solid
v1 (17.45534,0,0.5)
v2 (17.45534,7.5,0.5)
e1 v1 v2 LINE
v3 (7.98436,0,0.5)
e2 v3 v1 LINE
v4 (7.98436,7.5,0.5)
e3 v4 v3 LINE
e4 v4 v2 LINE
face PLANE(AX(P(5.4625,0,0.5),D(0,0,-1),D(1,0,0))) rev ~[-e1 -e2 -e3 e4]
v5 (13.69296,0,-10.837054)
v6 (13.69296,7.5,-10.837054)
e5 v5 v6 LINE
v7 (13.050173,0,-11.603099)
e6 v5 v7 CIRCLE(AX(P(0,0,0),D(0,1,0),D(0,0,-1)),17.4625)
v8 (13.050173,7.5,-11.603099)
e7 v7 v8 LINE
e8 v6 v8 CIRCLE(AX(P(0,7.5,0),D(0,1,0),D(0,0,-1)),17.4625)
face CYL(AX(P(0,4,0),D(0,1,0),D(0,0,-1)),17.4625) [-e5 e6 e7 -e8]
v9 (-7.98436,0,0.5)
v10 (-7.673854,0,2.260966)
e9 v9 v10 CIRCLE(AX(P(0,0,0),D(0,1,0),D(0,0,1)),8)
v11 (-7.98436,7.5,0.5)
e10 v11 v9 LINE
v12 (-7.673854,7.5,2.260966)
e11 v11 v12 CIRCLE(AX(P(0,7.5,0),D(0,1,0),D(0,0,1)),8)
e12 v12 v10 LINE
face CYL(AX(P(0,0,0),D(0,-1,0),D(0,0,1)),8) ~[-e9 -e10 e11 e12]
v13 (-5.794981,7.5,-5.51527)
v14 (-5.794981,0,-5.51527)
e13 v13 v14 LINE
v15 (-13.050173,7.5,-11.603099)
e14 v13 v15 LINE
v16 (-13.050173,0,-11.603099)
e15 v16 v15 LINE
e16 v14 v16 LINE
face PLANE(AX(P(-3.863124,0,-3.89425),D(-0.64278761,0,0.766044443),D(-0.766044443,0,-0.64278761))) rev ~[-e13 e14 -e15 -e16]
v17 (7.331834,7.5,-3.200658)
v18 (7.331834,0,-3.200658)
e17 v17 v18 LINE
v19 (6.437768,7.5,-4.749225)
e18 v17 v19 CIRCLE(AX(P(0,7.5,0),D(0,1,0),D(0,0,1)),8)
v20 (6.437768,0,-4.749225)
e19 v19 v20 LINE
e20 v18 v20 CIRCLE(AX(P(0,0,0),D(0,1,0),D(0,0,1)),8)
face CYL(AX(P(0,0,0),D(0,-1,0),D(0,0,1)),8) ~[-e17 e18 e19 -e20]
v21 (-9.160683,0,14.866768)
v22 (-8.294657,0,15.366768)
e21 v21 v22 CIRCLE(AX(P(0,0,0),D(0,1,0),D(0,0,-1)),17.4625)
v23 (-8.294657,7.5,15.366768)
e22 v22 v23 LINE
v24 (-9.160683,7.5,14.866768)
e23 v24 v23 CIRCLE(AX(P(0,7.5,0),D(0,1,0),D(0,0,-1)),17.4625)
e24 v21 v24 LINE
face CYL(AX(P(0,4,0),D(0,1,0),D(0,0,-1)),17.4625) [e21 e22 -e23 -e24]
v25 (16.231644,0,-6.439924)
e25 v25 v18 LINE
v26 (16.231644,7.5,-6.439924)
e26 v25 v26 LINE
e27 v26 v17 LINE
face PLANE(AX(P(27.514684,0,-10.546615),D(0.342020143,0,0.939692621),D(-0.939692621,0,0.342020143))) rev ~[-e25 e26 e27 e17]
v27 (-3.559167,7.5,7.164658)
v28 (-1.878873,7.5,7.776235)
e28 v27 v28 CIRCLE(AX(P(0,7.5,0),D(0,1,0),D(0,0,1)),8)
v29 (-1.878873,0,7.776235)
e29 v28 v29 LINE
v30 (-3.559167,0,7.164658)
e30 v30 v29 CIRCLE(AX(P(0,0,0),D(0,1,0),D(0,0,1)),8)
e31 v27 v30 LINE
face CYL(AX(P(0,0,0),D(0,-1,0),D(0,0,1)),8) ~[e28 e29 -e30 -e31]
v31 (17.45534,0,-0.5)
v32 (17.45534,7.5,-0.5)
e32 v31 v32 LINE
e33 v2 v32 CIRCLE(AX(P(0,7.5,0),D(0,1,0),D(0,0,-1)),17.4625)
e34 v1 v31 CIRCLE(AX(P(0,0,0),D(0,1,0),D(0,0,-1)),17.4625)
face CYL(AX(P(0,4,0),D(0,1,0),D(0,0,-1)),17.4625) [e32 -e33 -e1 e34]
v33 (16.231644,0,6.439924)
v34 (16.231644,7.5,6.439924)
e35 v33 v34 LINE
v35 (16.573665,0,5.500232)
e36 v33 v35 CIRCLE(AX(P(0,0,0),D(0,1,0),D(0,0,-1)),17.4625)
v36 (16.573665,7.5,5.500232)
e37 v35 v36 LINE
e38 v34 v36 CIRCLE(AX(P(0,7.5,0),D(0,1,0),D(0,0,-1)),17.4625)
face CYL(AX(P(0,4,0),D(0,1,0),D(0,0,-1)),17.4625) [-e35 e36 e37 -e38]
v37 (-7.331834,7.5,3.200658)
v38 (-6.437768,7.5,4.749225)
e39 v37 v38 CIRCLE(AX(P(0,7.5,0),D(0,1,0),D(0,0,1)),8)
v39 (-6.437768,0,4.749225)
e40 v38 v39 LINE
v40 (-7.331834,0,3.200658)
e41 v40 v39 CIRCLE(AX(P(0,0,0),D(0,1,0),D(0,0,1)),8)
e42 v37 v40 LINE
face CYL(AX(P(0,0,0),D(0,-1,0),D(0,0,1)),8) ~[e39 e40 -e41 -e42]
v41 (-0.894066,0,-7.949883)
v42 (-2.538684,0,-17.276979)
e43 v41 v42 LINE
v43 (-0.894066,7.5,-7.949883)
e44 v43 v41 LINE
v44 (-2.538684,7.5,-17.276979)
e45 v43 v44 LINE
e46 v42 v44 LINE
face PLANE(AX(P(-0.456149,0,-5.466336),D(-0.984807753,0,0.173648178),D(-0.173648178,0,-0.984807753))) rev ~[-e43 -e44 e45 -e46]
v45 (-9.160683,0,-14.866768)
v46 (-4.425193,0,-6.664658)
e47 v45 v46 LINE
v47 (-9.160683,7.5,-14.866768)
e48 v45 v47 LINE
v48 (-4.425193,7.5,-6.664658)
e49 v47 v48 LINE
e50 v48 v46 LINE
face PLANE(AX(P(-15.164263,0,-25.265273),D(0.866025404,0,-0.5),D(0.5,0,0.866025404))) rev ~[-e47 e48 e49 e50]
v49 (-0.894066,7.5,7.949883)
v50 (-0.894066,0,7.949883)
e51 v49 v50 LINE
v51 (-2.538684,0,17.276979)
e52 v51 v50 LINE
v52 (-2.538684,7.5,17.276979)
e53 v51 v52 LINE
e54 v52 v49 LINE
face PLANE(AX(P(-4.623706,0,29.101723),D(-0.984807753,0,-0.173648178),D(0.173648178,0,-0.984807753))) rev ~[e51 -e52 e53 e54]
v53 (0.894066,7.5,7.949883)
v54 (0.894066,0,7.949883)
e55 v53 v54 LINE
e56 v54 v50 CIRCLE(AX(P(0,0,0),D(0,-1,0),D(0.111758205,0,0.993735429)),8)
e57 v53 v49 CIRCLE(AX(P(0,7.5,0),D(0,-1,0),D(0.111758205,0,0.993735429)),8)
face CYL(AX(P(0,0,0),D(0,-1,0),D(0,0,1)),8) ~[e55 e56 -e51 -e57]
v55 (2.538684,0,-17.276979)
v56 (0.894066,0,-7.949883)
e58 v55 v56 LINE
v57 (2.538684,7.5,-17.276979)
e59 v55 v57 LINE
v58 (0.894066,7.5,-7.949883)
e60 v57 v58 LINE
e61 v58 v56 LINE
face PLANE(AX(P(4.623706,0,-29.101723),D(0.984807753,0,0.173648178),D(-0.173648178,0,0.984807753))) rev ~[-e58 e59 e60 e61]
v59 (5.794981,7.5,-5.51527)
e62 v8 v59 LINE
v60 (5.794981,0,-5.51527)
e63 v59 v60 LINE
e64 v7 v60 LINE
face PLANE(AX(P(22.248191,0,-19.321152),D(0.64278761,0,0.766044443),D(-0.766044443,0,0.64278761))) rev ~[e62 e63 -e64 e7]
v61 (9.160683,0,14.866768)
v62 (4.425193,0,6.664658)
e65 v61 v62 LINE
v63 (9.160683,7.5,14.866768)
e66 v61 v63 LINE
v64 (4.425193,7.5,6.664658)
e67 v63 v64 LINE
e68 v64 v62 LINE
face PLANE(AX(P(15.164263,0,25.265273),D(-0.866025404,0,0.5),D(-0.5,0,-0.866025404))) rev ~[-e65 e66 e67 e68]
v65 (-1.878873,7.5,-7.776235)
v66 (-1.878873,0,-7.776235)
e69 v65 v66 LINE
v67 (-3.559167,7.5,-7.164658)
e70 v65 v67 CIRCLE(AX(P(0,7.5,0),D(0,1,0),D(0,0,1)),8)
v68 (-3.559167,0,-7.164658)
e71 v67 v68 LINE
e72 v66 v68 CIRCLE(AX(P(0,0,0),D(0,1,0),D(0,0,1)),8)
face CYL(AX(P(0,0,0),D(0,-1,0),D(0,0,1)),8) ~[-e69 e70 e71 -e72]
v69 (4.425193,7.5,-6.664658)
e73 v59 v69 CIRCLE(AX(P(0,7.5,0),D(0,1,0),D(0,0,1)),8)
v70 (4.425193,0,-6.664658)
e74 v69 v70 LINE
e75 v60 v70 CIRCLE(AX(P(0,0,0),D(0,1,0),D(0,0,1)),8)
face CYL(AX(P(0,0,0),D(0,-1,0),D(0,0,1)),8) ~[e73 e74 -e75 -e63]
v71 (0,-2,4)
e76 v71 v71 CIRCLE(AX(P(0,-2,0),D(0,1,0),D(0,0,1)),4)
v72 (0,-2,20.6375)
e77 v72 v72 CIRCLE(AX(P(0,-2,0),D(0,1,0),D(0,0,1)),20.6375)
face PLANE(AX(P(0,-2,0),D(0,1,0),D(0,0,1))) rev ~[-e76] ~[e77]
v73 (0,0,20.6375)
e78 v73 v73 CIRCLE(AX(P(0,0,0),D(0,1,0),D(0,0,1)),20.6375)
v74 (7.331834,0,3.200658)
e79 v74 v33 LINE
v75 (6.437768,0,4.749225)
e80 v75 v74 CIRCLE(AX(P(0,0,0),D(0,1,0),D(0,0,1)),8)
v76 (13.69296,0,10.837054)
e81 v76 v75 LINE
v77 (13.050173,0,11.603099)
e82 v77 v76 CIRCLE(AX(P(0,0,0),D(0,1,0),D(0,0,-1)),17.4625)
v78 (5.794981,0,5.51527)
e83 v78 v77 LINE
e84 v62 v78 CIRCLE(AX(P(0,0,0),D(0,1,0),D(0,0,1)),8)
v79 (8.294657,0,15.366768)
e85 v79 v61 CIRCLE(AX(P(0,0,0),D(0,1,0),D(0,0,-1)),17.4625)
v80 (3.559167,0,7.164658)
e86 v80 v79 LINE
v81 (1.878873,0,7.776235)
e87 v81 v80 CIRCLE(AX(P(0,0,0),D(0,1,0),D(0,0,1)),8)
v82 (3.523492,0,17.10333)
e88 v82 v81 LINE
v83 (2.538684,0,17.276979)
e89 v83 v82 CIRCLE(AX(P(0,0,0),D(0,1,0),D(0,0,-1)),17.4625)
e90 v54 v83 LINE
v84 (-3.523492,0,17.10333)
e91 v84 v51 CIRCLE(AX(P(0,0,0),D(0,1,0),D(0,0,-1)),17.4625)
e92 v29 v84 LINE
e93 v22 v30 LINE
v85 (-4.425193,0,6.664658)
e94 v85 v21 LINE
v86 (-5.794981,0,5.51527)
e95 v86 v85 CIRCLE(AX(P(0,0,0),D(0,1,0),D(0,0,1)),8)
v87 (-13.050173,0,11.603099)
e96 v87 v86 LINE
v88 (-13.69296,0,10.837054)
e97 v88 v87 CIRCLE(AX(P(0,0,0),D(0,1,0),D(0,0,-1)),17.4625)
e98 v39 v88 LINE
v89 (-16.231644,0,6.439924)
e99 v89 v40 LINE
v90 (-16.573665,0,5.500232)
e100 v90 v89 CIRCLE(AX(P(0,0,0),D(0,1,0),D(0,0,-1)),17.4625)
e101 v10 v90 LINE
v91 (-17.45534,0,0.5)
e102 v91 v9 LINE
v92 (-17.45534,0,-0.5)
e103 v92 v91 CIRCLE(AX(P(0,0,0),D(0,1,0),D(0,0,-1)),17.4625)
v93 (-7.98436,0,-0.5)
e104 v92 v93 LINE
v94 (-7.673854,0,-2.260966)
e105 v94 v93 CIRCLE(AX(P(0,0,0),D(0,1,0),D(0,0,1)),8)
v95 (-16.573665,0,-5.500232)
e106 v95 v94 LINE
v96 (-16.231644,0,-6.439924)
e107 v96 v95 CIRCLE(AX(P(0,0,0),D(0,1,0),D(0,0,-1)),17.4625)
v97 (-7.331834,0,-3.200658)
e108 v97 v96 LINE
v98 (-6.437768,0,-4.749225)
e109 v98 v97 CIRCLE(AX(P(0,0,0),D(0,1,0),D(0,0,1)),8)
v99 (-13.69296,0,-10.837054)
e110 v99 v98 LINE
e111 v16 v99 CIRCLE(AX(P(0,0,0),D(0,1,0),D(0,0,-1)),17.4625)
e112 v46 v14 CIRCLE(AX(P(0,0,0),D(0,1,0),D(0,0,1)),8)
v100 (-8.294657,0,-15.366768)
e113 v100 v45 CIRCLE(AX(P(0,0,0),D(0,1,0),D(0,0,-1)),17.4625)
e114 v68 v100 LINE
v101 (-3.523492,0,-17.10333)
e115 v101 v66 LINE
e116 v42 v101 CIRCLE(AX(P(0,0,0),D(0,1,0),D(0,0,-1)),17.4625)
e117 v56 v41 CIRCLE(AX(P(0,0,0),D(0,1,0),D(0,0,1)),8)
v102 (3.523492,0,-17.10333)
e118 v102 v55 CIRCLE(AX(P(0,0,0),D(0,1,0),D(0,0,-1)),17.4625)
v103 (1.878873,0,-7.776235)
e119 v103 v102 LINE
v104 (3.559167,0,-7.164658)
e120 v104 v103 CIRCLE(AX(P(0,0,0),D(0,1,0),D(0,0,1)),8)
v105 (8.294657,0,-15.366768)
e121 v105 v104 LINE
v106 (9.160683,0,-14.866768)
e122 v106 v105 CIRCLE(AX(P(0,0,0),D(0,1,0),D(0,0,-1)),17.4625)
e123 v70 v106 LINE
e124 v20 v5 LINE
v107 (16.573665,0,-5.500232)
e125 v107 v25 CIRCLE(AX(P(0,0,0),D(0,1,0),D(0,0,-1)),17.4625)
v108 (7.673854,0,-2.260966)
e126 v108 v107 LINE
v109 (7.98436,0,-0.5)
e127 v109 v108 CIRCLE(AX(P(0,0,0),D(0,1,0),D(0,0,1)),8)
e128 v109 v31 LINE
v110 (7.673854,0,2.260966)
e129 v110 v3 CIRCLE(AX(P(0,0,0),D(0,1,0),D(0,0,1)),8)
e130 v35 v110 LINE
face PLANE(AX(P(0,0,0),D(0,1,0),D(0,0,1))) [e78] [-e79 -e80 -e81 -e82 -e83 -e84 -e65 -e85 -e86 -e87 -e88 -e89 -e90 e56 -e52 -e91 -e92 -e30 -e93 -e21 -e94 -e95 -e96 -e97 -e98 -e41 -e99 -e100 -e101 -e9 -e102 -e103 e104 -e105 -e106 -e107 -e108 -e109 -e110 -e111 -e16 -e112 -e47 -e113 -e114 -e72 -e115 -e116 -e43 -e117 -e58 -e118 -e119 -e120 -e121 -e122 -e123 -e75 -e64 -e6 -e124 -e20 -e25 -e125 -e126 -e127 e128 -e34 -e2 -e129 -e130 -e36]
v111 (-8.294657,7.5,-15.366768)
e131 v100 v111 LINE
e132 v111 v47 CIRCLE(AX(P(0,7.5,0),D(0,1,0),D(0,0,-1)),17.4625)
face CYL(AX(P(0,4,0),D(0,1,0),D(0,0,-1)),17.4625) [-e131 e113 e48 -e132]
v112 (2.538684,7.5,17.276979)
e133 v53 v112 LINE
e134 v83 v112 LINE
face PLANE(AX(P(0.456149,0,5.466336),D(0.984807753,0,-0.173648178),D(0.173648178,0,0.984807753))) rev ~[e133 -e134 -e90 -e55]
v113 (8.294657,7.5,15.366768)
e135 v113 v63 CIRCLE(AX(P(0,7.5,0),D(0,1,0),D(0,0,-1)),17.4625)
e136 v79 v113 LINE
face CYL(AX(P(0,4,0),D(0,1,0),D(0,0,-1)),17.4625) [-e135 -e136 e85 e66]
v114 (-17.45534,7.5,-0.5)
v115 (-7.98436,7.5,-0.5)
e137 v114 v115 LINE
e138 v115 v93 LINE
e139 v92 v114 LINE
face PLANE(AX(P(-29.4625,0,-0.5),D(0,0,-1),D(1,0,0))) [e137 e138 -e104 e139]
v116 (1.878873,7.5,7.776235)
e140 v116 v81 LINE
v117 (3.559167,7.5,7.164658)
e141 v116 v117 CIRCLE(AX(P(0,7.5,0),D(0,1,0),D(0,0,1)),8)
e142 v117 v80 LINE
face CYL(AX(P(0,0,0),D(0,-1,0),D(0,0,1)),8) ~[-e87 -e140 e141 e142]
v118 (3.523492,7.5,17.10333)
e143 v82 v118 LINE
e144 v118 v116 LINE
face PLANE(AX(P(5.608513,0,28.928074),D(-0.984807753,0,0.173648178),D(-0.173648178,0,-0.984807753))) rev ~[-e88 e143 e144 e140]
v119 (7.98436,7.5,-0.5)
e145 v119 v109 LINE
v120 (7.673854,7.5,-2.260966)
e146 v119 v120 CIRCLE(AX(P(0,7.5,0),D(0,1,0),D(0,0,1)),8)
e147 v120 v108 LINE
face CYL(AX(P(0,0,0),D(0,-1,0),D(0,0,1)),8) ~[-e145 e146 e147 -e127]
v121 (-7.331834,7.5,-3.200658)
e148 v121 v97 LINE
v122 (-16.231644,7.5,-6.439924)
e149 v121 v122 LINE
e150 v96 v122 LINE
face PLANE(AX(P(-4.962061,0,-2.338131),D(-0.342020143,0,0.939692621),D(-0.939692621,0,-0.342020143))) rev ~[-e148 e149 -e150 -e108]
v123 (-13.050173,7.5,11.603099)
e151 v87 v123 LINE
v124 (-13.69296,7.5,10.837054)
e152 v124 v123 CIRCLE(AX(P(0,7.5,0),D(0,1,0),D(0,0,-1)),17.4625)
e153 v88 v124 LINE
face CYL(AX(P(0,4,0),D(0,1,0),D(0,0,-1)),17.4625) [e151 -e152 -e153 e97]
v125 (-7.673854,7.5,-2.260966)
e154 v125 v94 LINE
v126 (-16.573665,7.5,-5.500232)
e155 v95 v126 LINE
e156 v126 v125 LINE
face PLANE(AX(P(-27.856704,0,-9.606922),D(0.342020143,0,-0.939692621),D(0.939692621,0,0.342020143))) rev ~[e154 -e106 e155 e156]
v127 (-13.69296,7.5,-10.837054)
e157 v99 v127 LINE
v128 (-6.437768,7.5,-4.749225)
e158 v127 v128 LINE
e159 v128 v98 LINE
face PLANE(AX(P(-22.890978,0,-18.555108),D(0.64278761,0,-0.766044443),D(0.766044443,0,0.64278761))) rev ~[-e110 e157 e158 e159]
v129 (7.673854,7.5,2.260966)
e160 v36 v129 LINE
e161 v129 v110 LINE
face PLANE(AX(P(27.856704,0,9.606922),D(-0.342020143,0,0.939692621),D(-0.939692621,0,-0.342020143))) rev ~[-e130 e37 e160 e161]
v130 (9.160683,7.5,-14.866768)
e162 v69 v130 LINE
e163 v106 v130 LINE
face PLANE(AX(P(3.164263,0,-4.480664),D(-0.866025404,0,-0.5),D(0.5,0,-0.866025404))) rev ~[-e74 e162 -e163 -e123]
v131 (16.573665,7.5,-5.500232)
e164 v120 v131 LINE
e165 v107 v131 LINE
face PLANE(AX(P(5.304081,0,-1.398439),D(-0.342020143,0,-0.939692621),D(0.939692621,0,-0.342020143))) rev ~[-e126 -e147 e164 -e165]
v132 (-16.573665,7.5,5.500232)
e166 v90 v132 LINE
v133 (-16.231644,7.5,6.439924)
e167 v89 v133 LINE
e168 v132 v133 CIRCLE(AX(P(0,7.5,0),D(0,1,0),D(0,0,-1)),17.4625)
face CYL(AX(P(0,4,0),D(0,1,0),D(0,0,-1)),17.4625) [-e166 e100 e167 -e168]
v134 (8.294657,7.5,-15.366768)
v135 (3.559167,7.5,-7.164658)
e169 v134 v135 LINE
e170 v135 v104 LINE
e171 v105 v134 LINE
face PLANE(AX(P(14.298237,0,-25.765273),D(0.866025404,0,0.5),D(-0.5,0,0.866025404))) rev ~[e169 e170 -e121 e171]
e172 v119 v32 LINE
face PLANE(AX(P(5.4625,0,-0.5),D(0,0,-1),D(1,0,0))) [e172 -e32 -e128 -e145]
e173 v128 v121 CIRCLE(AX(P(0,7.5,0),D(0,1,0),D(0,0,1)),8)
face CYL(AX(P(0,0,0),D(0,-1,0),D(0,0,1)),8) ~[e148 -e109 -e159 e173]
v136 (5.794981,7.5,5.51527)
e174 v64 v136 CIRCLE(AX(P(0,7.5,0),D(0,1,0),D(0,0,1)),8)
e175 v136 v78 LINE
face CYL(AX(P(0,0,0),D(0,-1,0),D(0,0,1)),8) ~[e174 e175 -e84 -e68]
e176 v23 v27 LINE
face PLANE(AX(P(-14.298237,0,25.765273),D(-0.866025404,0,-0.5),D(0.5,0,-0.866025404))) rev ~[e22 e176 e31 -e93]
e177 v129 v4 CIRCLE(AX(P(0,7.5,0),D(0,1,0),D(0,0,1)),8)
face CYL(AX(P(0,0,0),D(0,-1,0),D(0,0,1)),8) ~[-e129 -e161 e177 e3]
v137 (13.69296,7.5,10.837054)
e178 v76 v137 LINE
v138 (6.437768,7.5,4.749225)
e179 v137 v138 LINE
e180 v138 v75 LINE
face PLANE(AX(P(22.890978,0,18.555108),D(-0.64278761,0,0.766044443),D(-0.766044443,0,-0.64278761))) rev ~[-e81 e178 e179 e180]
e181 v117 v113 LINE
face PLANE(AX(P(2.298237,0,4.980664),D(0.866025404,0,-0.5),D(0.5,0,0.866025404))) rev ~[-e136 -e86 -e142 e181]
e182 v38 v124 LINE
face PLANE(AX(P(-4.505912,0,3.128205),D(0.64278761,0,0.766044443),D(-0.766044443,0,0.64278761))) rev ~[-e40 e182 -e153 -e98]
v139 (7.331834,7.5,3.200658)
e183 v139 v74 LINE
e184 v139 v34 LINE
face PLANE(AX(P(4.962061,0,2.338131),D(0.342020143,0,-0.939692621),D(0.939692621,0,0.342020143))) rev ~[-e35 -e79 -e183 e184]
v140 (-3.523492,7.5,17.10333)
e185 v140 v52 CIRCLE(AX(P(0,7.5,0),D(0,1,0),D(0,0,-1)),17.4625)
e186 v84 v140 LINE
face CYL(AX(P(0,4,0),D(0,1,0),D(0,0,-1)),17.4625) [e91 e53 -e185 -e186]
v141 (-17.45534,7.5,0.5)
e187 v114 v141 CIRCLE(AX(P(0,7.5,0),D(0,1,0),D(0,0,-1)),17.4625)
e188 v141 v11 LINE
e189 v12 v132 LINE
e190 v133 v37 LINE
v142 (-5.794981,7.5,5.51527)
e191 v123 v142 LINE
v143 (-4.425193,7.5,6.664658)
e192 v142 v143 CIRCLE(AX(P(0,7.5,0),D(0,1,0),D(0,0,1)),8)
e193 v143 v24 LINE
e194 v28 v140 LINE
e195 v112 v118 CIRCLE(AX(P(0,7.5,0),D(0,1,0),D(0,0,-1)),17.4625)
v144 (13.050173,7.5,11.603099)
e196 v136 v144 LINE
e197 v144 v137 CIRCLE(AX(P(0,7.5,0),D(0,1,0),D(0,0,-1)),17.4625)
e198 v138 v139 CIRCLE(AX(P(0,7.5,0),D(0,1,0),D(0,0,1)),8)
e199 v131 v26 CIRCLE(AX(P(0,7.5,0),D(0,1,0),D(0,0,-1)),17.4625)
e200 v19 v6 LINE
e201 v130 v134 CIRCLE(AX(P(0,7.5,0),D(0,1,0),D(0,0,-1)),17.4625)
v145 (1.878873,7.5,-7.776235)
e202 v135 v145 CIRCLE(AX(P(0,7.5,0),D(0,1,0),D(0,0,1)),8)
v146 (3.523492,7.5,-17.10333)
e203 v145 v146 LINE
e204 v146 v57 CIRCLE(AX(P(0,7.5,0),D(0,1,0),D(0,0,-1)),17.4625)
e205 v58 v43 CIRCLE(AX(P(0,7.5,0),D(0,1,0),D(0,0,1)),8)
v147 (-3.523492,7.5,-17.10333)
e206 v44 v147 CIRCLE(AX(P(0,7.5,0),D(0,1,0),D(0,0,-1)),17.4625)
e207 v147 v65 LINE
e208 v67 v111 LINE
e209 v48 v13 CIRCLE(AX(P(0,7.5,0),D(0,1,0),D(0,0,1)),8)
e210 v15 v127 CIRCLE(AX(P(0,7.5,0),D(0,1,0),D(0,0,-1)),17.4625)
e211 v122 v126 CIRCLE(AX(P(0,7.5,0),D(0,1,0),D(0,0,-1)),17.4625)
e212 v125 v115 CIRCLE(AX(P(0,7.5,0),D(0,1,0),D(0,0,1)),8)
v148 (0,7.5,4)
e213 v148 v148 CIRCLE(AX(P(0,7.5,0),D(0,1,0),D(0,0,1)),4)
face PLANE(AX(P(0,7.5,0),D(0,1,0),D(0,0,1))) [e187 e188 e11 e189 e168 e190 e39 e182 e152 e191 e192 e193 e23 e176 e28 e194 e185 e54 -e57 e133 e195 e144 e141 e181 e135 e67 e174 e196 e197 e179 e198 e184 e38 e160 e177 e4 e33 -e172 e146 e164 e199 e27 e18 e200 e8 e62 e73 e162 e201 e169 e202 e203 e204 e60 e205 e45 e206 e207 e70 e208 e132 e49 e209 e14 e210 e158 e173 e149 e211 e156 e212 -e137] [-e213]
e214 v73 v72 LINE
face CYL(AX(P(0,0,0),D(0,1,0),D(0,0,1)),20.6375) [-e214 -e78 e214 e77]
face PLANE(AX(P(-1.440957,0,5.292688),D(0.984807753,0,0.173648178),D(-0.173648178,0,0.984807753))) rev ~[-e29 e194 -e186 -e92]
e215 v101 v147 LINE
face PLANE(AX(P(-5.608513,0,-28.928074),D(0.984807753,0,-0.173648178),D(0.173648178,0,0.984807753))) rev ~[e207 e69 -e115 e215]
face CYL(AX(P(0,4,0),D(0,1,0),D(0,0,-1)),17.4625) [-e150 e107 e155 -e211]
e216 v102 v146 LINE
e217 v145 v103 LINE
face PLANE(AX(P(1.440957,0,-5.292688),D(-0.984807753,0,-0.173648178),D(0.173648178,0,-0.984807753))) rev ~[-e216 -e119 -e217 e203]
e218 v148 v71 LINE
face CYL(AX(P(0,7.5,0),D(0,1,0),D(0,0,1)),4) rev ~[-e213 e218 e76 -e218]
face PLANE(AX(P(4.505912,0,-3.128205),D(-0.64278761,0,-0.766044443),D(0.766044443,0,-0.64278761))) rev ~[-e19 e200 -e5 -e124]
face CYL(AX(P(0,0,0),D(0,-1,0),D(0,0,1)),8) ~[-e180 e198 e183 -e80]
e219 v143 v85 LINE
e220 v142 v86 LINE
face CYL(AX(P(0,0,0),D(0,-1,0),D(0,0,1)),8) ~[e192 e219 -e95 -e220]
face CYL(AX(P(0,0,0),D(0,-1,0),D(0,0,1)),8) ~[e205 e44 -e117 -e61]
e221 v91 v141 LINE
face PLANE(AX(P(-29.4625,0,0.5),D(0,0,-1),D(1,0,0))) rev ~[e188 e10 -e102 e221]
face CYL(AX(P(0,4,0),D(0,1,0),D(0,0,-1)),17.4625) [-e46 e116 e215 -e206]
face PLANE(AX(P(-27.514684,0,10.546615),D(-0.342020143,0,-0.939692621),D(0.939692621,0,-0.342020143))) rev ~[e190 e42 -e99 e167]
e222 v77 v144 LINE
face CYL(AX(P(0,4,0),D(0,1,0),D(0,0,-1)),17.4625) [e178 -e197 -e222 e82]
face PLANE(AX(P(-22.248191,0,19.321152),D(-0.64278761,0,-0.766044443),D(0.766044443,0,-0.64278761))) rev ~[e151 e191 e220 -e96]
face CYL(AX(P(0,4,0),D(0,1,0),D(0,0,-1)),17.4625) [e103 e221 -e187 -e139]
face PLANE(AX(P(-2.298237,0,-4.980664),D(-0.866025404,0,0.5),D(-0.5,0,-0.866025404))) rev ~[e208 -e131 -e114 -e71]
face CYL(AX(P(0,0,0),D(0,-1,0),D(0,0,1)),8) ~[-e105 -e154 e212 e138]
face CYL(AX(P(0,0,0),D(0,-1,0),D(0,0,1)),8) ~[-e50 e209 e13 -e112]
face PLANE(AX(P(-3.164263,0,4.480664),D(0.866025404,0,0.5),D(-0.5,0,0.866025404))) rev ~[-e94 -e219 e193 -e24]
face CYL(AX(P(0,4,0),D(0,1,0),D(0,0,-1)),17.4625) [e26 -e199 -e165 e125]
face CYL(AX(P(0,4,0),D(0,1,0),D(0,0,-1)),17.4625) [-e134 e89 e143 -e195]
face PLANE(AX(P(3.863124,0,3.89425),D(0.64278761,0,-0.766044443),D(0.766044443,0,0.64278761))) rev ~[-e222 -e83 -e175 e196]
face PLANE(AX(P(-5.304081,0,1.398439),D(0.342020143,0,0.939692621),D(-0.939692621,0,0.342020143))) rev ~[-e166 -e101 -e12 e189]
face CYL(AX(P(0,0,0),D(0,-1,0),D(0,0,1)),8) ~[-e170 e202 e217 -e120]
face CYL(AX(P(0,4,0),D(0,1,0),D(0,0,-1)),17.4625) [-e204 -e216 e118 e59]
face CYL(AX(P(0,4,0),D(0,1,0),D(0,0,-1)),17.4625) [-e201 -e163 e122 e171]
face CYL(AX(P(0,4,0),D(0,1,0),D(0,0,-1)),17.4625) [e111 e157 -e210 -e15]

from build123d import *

# Parameters (mm, degrees)
SKETCH1_R           = 8
BOSS_EXTRUDE1_DEPTH = 7.5
SKETCH2_W           = 24
SKETCH2_H           = 1
BOSS_EXTRUDE2_DEPTH = 7.5
SKETCH5_W           = 30
SKETCH5_H           = 10
SKETCH6_R           = 20.6375
BOSS_EXTRUDE3_DEPTH = 2
SKETCH7_R           = 4
CUT_EXTRUDE2_DEPTH  = 31.69304176


with BuildPart() as part:
    # Sketch1 → Boss-Extrude1 (new body)
    with BuildSketch(Plane(origin=(0, 0, 0), x_dir=(1, 0, 0), z_dir=(0, 1, 0))):
        with Locations(Location((0, 0, 0), (0, 0, 270))):
            Circle(SKETCH1_R)
    extrude(amount=BOSS_EXTRUDE1_DEPTH)

    # Sketch2 → Boss-Extrude2 (add)
    with BuildSketch(Plane.XZ):
        with Locations((17.4625, 0)):
            Rectangle(SKETCH2_W, SKETCH2_H)
        Polygon((27.514683768, -10.546614783), (4.962060869, -2.338131343), (5.304081013, -1.398438723), (27.856703912, -9.606922162), align=None)
        Polygon((22.248190601, -19.321152172), (3.863123966, -3.894249539), (4.505911575, -3.128205096), (22.89097821, -18.555107729), align=None)
        Polygon((14.298237298, -25.765273459), (2.298237298, -4.980663768), (3.164262702, -4.480663768), (15.164262702, -25.265273459), align=None)
        Polygon((4.623705558, -29.101722512), (0.456149294, -5.46633644), (1.440957047, -5.292688262), (5.608513311, -28.928074334), align=None)
        Polygon((-5.608513311, -28.928074334), (-1.440957047, -5.292688262), (-0.456149294, -5.46633644), (-4.623705558, -29.101722512), align=None)
        Polygon((-15.164262702, -25.265273459), (-3.164262702, -4.480663768), (-2.298237298, -4.980663768), (-14.298237298, -25.765273459), align=None)
        Polygon((-22.89097821, -18.555107729), (-4.505911575, -3.128205096), (-3.863123966, -3.894249539), (-22.248190601, -19.321152172), align=None)
        Polygon((-27.856703912, -9.606922162), (-5.304081013, -1.398438723), (-4.962060869, -2.338131343), (-27.514683768, -10.546614783), align=None)
        with Locations((-17.4625, 0)):
            Rectangle(SKETCH2_W, SKETCH2_H)
        Polygon((-27.514683768, 10.546614783), (-4.962060869, 2.338131343), (-5.304081013, 1.398438723), (-27.856703912, 9.606922162), align=None)
        Polygon((-22.248190601, 19.321152172), (-3.863123966, 3.894249539), (-4.505911575, 3.128205096), (-22.89097821, 18.555107729), align=None)
        Polygon((-14.298237298, 25.765273459), (-2.298237298, 4.980663768), (-3.164262702, 4.480663768), (-15.164262702, 25.265273459), align=None)
        Polygon((-4.623705558, 29.101722512), (-0.456149294, 5.46633644), (-1.440957047, 5.292688262), (-5.608513311, 28.928074334), align=None)
        Polygon((5.608513311, 28.928074334), (1.440957047, 5.292688262), (0.456149294, 5.46633644), (4.623705558, 29.101722512), align=None)
        Polygon((15.164262702, 25.265273459), (3.164262702, 4.480663768), (2.298237298, 4.980663768), (14.298237298, 25.765273459), align=None)
        Polygon((22.89097821, 18.555107729), (4.505911575, 3.128205096), (3.863123966, 3.894249539), (22.248190601, 19.321152172), align=None)
        Polygon((27.856703912, 9.606922162), (5.304081013, 1.398438723), (4.962060869, 2.338131343), (27.514683768, 10.546614783), align=None)
    extrude(amount=-BOSS_EXTRUDE2_DEPTH)

    # Sketch5 → Cut-Revolve1 (revolve, cut)
    with BuildSketch(Plane(origin=(0, 0, 0), x_dir=(0, 0, -1), z_dir=(1, 0, 0))):
        with Locations((32.4625, 4)):
            Rectangle(SKETCH5_W, SKETCH5_H)
    revolve(axis=Axis((0, 0, 0), (0, 1, 0)), mode=Mode.SUBTRACT)

    # Sketch6 → Boss-Extrude3 (add)
    with BuildSketch(Plane(origin=(0, 0, 0), x_dir=(1, 0, 0), z_dir=(0, 1, 0))):
        with Locations(Location((0, 0, 0), (0, 0, 270))):
            Circle(SKETCH6_R)
    extrude(amount=-BOSS_EXTRUDE3_DEPTH)

    # Sketch7 → Cut-Extrude2 (cut, through all)
    with BuildSketch(Plane(origin=(0, 7.5, 0), x_dir=(1, 0, 0), z_dir=(0, 1, 0))):
        with Locations(Location((0, 0, 0), (0, 0, 270))):
            Circle(SKETCH7_R)
    extrude(amount=-CUT_EXTRUDE2_DEPTH, mode=Mode.SUBTRACT)


solid = part.part
